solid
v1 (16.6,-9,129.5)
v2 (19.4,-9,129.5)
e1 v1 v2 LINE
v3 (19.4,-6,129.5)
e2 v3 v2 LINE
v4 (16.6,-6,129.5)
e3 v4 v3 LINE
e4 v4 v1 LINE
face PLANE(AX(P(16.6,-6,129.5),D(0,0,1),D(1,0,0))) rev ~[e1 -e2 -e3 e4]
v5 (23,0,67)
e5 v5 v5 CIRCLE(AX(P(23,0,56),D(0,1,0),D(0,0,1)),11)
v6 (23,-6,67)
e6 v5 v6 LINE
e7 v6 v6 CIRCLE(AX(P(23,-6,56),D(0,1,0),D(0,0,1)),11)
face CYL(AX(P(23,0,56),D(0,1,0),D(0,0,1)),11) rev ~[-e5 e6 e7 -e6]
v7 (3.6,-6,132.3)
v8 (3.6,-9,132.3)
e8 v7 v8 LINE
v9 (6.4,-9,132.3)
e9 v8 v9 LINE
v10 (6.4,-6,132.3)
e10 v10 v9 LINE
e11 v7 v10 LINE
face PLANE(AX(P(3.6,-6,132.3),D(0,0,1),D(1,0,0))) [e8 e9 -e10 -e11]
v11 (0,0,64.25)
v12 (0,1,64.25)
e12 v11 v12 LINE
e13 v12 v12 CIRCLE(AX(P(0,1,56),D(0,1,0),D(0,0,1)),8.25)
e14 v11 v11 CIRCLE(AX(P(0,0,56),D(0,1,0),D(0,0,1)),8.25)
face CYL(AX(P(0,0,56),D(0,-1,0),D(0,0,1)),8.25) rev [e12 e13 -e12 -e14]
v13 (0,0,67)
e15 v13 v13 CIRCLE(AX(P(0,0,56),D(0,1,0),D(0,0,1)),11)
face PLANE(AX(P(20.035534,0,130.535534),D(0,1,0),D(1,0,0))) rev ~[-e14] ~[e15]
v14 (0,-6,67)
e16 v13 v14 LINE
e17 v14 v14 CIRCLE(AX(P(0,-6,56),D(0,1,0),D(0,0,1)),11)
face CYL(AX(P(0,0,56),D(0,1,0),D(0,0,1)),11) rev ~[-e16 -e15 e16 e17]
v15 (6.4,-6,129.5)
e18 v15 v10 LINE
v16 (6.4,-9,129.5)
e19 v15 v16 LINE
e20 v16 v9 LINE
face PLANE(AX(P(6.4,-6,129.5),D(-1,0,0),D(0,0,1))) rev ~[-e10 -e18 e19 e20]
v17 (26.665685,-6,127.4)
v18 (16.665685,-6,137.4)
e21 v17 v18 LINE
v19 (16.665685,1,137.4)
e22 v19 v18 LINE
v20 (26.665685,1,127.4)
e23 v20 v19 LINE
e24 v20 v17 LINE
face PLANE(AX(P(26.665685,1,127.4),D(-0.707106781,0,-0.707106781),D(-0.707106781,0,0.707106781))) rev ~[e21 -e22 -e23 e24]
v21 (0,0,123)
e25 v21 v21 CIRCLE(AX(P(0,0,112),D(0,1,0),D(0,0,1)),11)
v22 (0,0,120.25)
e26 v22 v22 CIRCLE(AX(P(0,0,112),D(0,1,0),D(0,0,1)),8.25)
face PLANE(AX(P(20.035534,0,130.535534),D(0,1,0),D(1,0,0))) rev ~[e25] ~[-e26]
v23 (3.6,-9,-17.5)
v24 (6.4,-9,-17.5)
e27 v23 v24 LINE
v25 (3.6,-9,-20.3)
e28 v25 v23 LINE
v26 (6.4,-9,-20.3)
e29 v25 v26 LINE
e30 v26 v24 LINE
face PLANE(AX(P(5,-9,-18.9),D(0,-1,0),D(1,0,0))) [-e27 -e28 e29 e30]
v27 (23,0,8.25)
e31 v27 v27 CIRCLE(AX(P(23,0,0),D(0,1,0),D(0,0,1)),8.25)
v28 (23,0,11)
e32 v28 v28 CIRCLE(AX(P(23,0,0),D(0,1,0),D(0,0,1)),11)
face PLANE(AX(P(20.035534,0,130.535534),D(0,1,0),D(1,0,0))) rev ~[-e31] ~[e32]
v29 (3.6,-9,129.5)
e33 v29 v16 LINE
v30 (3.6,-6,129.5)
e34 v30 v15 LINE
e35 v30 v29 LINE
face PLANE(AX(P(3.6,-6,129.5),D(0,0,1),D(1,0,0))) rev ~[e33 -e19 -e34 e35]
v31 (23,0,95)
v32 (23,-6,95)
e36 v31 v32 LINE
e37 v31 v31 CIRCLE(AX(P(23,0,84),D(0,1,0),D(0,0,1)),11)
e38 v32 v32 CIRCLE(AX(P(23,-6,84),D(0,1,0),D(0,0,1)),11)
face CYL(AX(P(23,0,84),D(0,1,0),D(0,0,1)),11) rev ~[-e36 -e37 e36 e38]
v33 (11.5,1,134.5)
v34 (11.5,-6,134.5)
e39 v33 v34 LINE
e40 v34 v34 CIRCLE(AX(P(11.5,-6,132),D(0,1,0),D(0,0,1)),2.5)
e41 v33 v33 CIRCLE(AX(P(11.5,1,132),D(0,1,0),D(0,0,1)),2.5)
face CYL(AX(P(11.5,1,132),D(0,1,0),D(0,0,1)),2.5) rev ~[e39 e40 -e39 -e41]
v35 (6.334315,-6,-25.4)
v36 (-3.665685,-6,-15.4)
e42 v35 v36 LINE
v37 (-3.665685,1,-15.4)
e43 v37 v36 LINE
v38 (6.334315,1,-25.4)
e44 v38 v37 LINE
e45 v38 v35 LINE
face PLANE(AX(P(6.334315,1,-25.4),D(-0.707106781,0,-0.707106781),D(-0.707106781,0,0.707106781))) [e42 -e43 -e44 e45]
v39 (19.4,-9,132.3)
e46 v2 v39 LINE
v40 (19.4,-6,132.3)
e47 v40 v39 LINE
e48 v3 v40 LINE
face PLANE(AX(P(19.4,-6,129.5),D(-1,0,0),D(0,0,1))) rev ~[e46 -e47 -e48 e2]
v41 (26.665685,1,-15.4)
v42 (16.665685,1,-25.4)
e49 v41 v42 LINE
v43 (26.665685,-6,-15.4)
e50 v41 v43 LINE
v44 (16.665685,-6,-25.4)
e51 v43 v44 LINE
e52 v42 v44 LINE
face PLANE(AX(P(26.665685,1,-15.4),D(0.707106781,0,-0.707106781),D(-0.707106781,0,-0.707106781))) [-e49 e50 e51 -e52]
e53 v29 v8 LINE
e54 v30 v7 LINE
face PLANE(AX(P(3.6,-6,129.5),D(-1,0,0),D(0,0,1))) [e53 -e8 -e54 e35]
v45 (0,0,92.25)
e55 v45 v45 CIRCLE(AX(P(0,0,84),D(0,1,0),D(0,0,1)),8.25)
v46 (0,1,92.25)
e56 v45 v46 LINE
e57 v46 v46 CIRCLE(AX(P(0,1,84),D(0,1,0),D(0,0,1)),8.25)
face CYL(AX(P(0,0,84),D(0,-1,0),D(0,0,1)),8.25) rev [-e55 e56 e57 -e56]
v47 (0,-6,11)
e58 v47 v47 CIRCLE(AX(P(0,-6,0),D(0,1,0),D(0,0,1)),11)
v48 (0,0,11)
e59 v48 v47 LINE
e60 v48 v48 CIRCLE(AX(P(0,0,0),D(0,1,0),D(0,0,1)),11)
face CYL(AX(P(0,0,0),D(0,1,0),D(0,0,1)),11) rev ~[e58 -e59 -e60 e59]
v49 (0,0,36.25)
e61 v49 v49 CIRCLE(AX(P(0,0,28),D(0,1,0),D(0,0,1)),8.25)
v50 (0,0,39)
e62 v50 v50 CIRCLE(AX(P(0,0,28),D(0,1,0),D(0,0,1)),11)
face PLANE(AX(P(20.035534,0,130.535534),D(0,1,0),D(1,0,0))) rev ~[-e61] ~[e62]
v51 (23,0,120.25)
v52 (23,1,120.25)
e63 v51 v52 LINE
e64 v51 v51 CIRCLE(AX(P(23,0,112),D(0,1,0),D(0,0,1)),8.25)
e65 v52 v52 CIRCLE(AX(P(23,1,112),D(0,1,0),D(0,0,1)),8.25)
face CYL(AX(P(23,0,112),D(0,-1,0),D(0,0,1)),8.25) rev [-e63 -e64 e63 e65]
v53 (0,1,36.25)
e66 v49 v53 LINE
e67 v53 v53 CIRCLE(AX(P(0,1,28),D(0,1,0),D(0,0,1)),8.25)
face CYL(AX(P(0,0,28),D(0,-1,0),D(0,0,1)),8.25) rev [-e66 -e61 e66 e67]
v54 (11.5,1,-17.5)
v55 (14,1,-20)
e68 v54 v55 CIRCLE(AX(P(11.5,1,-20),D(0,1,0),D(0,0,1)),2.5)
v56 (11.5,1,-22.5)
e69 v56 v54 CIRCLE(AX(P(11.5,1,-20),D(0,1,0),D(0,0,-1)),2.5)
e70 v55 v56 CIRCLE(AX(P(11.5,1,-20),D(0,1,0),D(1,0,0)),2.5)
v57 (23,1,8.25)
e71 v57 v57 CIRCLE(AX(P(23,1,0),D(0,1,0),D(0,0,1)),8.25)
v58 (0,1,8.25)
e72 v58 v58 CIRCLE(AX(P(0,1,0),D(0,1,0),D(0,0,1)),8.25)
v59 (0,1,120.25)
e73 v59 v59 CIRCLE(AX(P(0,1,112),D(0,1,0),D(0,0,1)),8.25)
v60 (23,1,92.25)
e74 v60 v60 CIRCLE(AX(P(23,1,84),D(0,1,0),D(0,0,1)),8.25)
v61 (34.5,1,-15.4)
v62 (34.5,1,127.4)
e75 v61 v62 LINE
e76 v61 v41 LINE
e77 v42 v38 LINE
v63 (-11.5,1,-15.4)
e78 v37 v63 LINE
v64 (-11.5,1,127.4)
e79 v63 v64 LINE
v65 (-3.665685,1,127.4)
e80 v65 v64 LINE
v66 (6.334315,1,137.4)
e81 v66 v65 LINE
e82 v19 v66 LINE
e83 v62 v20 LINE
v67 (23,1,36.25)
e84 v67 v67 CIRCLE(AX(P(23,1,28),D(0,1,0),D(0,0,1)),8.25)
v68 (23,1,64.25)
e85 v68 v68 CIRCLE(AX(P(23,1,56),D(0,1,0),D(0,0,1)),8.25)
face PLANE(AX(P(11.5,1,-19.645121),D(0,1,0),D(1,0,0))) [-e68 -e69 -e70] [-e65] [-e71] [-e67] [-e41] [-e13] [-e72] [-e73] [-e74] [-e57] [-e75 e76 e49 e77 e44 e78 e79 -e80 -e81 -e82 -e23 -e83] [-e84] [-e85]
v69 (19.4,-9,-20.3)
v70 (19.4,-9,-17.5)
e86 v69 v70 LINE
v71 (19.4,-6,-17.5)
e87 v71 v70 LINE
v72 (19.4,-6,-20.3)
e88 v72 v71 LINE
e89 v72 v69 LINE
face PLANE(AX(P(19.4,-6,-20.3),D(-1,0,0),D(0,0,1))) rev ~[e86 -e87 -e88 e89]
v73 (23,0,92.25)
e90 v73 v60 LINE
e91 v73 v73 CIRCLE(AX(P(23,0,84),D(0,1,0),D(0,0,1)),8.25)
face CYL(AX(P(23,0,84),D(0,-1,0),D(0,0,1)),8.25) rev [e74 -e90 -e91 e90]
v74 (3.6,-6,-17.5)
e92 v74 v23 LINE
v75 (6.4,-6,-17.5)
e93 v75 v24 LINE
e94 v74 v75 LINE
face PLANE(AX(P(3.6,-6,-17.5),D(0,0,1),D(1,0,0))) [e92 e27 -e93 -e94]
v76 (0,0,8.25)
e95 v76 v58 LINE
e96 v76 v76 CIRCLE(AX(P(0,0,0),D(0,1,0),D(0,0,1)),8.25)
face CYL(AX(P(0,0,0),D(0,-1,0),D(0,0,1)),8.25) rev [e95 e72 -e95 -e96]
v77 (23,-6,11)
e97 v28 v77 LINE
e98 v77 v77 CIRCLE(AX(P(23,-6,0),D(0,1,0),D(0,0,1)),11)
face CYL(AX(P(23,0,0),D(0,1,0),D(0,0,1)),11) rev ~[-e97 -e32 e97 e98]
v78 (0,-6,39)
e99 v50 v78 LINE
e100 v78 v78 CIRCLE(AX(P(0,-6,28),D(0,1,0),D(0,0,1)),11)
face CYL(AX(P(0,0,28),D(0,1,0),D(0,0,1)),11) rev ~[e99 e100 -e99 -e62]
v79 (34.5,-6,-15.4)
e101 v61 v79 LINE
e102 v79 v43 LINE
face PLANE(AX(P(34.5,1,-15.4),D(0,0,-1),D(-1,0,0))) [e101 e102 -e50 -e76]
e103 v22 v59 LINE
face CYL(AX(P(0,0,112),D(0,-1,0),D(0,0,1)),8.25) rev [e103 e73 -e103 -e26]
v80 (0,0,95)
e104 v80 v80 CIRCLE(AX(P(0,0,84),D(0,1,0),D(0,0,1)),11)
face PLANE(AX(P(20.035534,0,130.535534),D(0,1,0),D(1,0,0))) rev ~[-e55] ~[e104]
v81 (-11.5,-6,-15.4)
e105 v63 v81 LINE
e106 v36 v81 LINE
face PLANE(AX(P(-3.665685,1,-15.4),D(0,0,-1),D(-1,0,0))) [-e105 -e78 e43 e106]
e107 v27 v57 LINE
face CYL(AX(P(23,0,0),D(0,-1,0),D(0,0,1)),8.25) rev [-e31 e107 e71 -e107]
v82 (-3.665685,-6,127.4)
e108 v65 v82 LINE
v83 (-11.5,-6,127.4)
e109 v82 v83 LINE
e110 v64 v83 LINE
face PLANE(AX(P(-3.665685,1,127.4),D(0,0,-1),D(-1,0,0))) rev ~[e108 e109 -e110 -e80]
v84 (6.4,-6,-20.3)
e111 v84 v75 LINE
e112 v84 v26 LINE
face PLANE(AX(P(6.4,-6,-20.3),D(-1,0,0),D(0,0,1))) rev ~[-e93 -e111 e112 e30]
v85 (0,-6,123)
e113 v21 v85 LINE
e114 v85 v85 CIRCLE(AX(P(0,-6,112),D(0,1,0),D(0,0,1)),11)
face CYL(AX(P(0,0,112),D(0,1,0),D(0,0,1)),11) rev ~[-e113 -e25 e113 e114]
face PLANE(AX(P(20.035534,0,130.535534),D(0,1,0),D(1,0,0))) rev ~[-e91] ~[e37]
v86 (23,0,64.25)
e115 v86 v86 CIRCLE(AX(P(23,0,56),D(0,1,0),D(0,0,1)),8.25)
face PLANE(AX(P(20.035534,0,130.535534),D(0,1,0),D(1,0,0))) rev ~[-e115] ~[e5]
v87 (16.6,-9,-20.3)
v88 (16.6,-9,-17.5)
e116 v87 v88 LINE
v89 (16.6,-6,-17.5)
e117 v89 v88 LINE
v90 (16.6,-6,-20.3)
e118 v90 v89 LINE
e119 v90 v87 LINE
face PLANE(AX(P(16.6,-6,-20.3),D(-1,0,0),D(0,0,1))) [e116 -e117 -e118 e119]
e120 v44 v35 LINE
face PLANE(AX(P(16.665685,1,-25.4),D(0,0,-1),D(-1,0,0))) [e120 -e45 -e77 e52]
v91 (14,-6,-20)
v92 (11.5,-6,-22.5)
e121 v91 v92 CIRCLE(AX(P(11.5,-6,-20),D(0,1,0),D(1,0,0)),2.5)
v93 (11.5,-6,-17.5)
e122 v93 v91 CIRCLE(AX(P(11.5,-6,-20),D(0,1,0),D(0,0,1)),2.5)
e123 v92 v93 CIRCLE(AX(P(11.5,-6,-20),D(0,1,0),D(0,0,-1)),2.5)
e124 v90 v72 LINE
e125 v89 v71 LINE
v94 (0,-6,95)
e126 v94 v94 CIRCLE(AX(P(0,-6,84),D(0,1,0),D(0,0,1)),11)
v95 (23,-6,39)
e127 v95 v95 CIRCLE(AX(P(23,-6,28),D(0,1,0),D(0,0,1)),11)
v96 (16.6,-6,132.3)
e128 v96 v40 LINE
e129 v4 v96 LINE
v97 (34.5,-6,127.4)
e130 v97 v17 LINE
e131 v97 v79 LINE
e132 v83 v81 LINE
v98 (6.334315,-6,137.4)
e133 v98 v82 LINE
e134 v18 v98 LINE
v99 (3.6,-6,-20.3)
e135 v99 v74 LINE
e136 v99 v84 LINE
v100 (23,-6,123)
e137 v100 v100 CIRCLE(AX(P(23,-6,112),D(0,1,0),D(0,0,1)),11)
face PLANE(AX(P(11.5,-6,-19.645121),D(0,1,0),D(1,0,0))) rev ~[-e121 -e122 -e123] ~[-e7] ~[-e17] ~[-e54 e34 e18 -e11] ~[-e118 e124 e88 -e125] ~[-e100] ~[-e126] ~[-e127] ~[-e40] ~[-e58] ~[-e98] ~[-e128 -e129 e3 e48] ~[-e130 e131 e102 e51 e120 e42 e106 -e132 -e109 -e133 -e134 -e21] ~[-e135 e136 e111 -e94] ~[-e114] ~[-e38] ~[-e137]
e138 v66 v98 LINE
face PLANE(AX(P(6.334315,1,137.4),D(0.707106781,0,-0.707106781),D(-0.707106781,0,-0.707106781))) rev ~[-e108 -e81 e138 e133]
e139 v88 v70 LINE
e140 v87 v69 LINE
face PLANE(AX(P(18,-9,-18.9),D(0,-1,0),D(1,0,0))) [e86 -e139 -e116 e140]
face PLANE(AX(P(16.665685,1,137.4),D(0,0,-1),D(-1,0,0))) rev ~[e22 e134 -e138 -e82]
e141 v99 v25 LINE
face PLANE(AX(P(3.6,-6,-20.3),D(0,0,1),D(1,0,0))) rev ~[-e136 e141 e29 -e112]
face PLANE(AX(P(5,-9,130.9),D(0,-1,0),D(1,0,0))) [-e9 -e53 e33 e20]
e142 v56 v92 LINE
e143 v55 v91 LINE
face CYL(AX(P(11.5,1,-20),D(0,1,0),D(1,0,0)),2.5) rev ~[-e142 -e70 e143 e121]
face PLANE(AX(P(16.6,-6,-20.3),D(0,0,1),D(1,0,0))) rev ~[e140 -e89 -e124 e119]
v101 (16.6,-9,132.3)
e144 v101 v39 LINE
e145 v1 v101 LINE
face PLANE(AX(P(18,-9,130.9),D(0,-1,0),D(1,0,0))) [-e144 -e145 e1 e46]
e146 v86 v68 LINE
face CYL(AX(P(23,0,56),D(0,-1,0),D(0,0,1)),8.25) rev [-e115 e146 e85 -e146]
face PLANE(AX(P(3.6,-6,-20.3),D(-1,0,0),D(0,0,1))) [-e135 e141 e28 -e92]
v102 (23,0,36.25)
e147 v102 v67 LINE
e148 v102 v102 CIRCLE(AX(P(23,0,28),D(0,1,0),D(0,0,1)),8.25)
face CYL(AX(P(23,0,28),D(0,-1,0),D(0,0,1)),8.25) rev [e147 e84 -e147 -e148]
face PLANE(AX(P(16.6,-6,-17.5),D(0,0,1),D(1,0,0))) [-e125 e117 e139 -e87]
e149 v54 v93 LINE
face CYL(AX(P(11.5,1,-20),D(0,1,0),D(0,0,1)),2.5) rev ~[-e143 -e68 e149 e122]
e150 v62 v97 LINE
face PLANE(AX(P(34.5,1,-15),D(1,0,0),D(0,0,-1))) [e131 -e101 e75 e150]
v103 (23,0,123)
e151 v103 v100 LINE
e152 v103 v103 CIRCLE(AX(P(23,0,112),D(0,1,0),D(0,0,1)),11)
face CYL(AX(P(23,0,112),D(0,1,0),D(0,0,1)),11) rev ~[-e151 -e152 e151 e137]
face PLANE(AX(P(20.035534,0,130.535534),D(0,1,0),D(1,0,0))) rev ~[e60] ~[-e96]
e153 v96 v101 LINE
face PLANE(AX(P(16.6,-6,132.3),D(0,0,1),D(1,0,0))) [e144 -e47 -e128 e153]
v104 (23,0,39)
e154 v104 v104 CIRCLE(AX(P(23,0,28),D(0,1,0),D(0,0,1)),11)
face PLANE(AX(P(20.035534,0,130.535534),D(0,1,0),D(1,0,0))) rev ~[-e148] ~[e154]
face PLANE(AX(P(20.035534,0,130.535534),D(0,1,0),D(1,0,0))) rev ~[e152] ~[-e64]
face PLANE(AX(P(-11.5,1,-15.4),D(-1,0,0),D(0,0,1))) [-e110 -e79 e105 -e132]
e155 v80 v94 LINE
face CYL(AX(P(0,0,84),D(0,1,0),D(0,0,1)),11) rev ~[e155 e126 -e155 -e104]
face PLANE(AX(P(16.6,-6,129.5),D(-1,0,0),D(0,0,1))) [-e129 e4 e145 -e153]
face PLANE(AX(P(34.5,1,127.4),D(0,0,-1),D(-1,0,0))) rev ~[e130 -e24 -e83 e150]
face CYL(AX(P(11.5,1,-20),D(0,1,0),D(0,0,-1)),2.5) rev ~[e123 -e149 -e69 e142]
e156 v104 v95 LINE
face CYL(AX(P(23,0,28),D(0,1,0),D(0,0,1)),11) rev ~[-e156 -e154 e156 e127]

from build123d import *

# Parameters (mm, degrees)
SZKIC1_R                    = 11
SZKIC1_R_2                  = 10.6
SZKIC1_R_3                  = 10.1
SZKIC1_R_4                  = 8.25
SZKIC1_W                    = 10
SZKIC1_H                    = 10
DODANIE_WYCI_GNI_CIE1_DEPTH = 1
SZKIC1_3_R                  = 11
DODANIE_WYCI_GNI_CIE2_DEPTH = 6
SZKIC2_R                    = 2.5
WYTNIJ_WYCI_GNI_CIE1_DEPTH  = 20
DODANIE_WYCI_GNI_CIE3_DEPTH = 7
SZKIC7_W                    = 2.8
SZKIC7_H                    = 2.8
DODANIE_WYCI_GNI_CIE4_DEPTH = 3


with BuildPart() as part:
    # Szkic1 → Dodanie-wyciągnięcie1 (new body)
    # profile 1 of 43: a face of its own
    with BuildSketch(Plane(origin=(0, 0, 0), x_dir=(1, 0, 0), z_dir=(0, 1, 0))):
        Polygon((6.5, 15), (-3.5, 15), (-11.5, 15), (-11.5, -127), (-3.5, -127), (6.5, -127), (16.5, -127), (26.5, -127), (34.5, -127), (34.5, 15), (26.5, 15), (16.5, 15), align=None)
        with Locations((0, -112)):
            Circle(SZKIC1_R, mode=Mode.SUBTRACT)
        with Locations((0, -84)):
            Circle(SZKIC1_R, mode=Mode.SUBTRACT)
        with Locations((0, -56)):
            Circle(SZKIC1_R, mode=Mode.SUBTRACT)
        with Locations((23, -112)):
            Circle(SZKIC1_R, mode=Mode.SUBTRACT)
        with Locations((23, -84)):
            Circle(SZKIC1_R, mode=Mode.SUBTRACT)
        with Locations((23, -56)):
            Circle(SZKIC1_R, mode=Mode.SUBTRACT)
        with Locations((0, -28)):
            Circle(SZKIC1_R, mode=Mode.SUBTRACT)
        Circle(SZKIC1_R, mode=Mode.SUBTRACT)
        with Locations((23, -28)):
            Circle(SZKIC1_R, mode=Mode.SUBTRACT)
        with Locations((23, 0)):
            Circle(SZKIC1_R, mode=Mode.SUBTRACT)
    # profile 2 of 43: a face of its own
    with BuildSketch(Plane(origin=(0, 0, 0), x_dir=(1, 0, 0), z_dir=(0, 1, 0))):
        Polygon((6.5, 15), (-3.5, 15), (-11.5, 15), (-11.5, -127), (-3.5, -127), (6.5, -127), (16.5, -127), (26.5, -127), (34.5, -127), (34.5, 15), (26.5, 15), (16.5, 15), align=None)
        with Locations((0, -112)):
            Circle(SZKIC1_R, mode=Mode.SUBTRACT)
        with Locations((0, -84)):
            Circle(SZKIC1_R, mode=Mode.SUBTRACT)
        with Locations((0, -56)):
            Circle(SZKIC1_R, mode=Mode.SUBTRACT)
        with Locations((23, -112)):
            Circle(SZKIC1_R, mode=Mode.SUBTRACT)
        with Locations((23, -84)):
            Circle(SZKIC1_R, mode=Mode.SUBTRACT)
        with Locations((23, -56)):
            Circle(SZKIC1_R, mode=Mode.SUBTRACT)
        with Locations((0, -28)):
            Circle(SZKIC1_R, mode=Mode.SUBTRACT)
        Circle(SZKIC1_R, mode=Mode.SUBTRACT)
        with Locations((23, -28)):
            Circle(SZKIC1_R, mode=Mode.SUBTRACT)
        with Locations((23, 0)):
            Circle(SZKIC1_R, mode=Mode.SUBTRACT)
    # profile 3 of 43: a face of its own
    with BuildSketch(Plane(origin=(0, 0, 0), x_dir=(1, 0, 0), z_dir=(0, 1, 0))):
        Polygon((6.5, 15), (-3.5, 15), (-11.5, 15), (-11.5, -127), (-3.5, -127), (6.5, -127), (16.5, -127), (26.5, -127), (34.5, -127), (34.5, 15), (26.5, 15), (16.5, 15), align=None)
        with Locations((0, -112)):
            Circle(SZKIC1_R, mode=Mode.SUBTRACT)
        with Locations((0, -84)):
            Circle(SZKIC1_R, mode=Mode.SUBTRACT)
        with Locations((0, -56)):
            Circle(SZKIC1_R, mode=Mode.SUBTRACT)
        with Locations((23, -112)):
            Circle(SZKIC1_R, mode=Mode.SUBTRACT)
        with Locations((23, -84)):
            Circle(SZKIC1_R, mode=Mode.SUBTRACT)
        with Locations((23, -56)):
            Circle(SZKIC1_R, mode=Mode.SUBTRACT)
        with Locations((0, -28)):
            Circle(SZKIC1_R, mode=Mode.SUBTRACT)
        Circle(SZKIC1_R, mode=Mode.SUBTRACT)
        with Locations((23, -28)):
            Circle(SZKIC1_R, mode=Mode.SUBTRACT)
        with Locations((23, 0)):
            Circle(SZKIC1_R, mode=Mode.SUBTRACT)
    # profile 4 of 43: a face of its own
    with BuildSketch(Plane(origin=(0, 0, 0), x_dir=(1, 0, 0), z_dir=(0, 1, 0))):
        with Locations((0, -28)):
            Circle(SZKIC1_R)
        with Locations((0, -28)):
            Circle(SZKIC1_R_2, mode=Mode.SUBTRACT)
    # profile 5 of 43: a face of its own
    with BuildSketch(Plane(origin=(0, 0, 0), x_dir=(1, 0, 0), z_dir=(0, 1, 0))):
        with Locations((0, -28)):
            Circle(SZKIC1_R)
        with Locations((0, -28)):
            Circle(SZKIC1_R_2, mode=Mode.SUBTRACT)
    # profile 6 of 43: a face of its own
    with BuildSketch(Plane(origin=(0, 0, 0), x_dir=(1, 0, 0), z_dir=(0, 1, 0))):
        with Locations((0, -28)):
            Circle(SZKIC1_R_2)
        with Locations((0, -28)):
            Circle(SZKIC1_R_3, mode=Mode.SUBTRACT)
    # profile 7 of 43: a face of its own
    with BuildSketch(Plane(origin=(0, 0, 0), x_dir=(1, 0, 0), z_dir=(0, 1, 0))):
        with Locations((0, -28)):
            Circle(SZKIC1_R_3)
        with Locations(Location((0, -28, 0), (0, 0, 270))):
            Circle(SZKIC1_R_4, mode=Mode.SUBTRACT)
    # profile 8 of 43: a face of its own
    with BuildSketch(Plane(origin=(0, 0, 0), x_dir=(1, 0, 0), z_dir=(0, 1, 0))):
        with Locations((23, -28)):
            Circle(SZKIC1_R)
        with Locations((23, -28)):
            Circle(SZKIC1_R_2, mode=Mode.SUBTRACT)
    # profile 9 of 43: a face of its own
    with BuildSketch(Plane(origin=(0, 0, 0), x_dir=(1, 0, 0), z_dir=(0, 1, 0))):
        with Locations((23, -28)):
            Circle(SZKIC1_R)
        with Locations((23, -28)):
            Circle(SZKIC1_R_2, mode=Mode.SUBTRACT)
    # profile 10 of 43: a face of its own
    with BuildSketch(Plane(origin=(0, 0, 0), x_dir=(1, 0, 0), z_dir=(0, 1, 0))):
        with Locations((23, -28)):
            Circle(SZKIC1_R_2)
        with Locations((23, -28)):
            Circle(SZKIC1_R_3, mode=Mode.SUBTRACT)
    # profile 11 of 43: a face of its own
    with BuildSketch(Plane(origin=(0, 0, 0), x_dir=(1, 0, 0), z_dir=(0, 1, 0))):
        with Locations((23, -28)):
            Circle(SZKIC1_R_3)
        with Locations(Location((23, -28, 0), (0, 0, 270))):
            Circle(SZKIC1_R_4, mode=Mode.SUBTRACT)
    # profile 12 of 43: a face of its own
    with BuildSketch(Plane(origin=(0, 0, 0), x_dir=(1, 0, 0), z_dir=(0, 1, 0))):
        with Locations((23, 0)):
            Circle(SZKIC1_R)
        with Locations((23, 0)):
            Circle(SZKIC1_R_2, mode=Mode.SUBTRACT)
    # profile 13 of 43: a face of its own
    with BuildSketch(Plane(origin=(0, 0, 0), x_dir=(1, 0, 0), z_dir=(0, 1, 0))):
        with Locations((23, 0)):
            Circle(SZKIC1_R)
        with Locations((23, 0)):
            Circle(SZKIC1_R_2, mode=Mode.SUBTRACT)
    # profile 14 of 43: a face of its own
    with BuildSketch(Plane(origin=(0, 0, 0), x_dir=(1, 0, 0), z_dir=(0, 1, 0))):
        with Locations((23, 0)):
            Circle(SZKIC1_R_2)
        with Locations((23, 0)):
            Circle(SZKIC1_R_3, mode=Mode.SUBTRACT)
    # profile 15 of 43: a face of its own
    with BuildSketch(Plane(origin=(0, 0, 0), x_dir=(1, 0, 0), z_dir=(0, 1, 0))):
        with Locations((23, 0)):
            Circle(SZKIC1_R_3)
        with Locations(Location((23, 0, 0), (0, 0, 270))):
            Circle(SZKIC1_R_4, mode=Mode.SUBTRACT)
    # profile 16 of 43: a face of its own
    with BuildSketch(Plane(origin=(0, 0, 0), x_dir=(1, 0, 0), z_dir=(0, 1, 0))):
        Circle(SZKIC1_R)
        Circle(SZKIC1_R_2, mode=Mode.SUBTRACT)
    # profile 17 of 43: a face of its own
    with BuildSketch(Plane(origin=(0, 0, 0), x_dir=(1, 0, 0), z_dir=(0, 1, 0))):
        Circle(SZKIC1_R)
        Circle(SZKIC1_R_2, mode=Mode.SUBTRACT)
    # profile 18 of 43: a face of its own
    with BuildSketch(Plane(origin=(0, 0, 0), x_dir=(1, 0, 0), z_dir=(0, 1, 0))):
        Circle(SZKIC1_R_2)
        Circle(SZKIC1_R_3, mode=Mode.SUBTRACT)
    # profile 19 of 43: a face of its own
    with BuildSketch(Plane(origin=(0, 0, 0), x_dir=(1, 0, 0), z_dir=(0, 1, 0))):
        Circle(SZKIC1_R_3)
        with Locations(Location((0, 0, 0), (0, 0, 270))):
            Circle(SZKIC1_R_4, mode=Mode.SUBTRACT)
    # profile 20 of 43: a face of its own
    with BuildSketch(Plane(origin=(0, 0, 0), x_dir=(1, 0, 0), z_dir=(0, 1, 0))):
        Polygon((6.5, 15), (6.5, 25), (-3.5, 15), align=None)
    # profile 21 of 43: a face of its own
    with BuildSketch(Plane(origin=(0, 0, 0), x_dir=(1, 0, 0), z_dir=(0, 1, 0))):
        with Locations((11.5, 20)):
            Rectangle(SZKIC1_W, SZKIC1_H)
    # profile 22 of 43: a face of its own
    with BuildSketch(Plane(origin=(0, 0, 0), x_dir=(1, 0, 0), z_dir=(0, 1, 0))):
        Polygon((26.5, 15), (16.5, 25), (16.5, 15), align=None)
    # profile 23 of 43: a face of its own
    with BuildSketch(Plane(origin=(0, 0, 0), x_dir=(1, 0, 0), z_dir=(0, 1, 0))):
        with Locations((0, -56)):
            Circle(SZKIC1_R)
        with Locations((0, -56)):
            Circle(SZKIC1_R_2, mode=Mode.SUBTRACT)
    # profile 24 of 43: a face of its own
    with BuildSketch(Plane(origin=(0, 0, 0), x_dir=(1, 0, 0), z_dir=(0, 1, 0))):
        with Locations((0, -56)):
            Circle(SZKIC1_R_2)
        with Locations((0, -56)):
            Circle(SZKIC1_R_3, mode=Mode.SUBTRACT)
    # profile 25 of 43: a face of its own
    with BuildSketch(Plane(origin=(0, 0, 0), x_dir=(1, 0, 0), z_dir=(0, 1, 0))):
        with Locations((0, -56)):
            Circle(SZKIC1_R_3)
        with Locations(Location((0, -56, 0), (0, 0, 270))):
            Circle(SZKIC1_R_4, mode=Mode.SUBTRACT)
    # profile 26 of 43: a face of its own
    with BuildSketch(Plane(origin=(0, 0, 0), x_dir=(1, 0, 0), z_dir=(0, 1, 0))):
        with Locations((23, -56)):
            Circle(SZKIC1_R)
        with Locations((23, -56)):
            Circle(SZKIC1_R_2, mode=Mode.SUBTRACT)
    # profile 27 of 43: a face of its own
    with BuildSketch(Plane(origin=(0, 0, 0), x_dir=(1, 0, 0), z_dir=(0, 1, 0))):
        with Locations((23, -56)):
            Circle(SZKIC1_R_2)
        with Locations((23, -56)):
            Circle(SZKIC1_R_3, mode=Mode.SUBTRACT)
    # profile 28 of 43: a face of its own
    with BuildSketch(Plane(origin=(0, 0, 0), x_dir=(1, 0, 0), z_dir=(0, 1, 0))):
        with Locations((23, -56)):
            Circle(SZKIC1_R_3)
        with Locations(Location((23, -56, 0), (0, 0, 270))):
            Circle(SZKIC1_R_4, mode=Mode.SUBTRACT)
    # profile 29 of 43: a face of its own
    with BuildSketch(Plane(origin=(0, 0, 0), x_dir=(1, 0, 0), z_dir=(0, 1, 0))):
        with Locations((23, -84)):
            Circle(SZKIC1_R)
        with Locations((23, -84)):
            Circle(SZKIC1_R_2, mode=Mode.SUBTRACT)
    # profile 30 of 43: a face of its own
    with BuildSketch(Plane(origin=(0, 0, 0), x_dir=(1, 0, 0), z_dir=(0, 1, 0))):
        with Locations((23, -84)):
            Circle(SZKIC1_R_2)
        with Locations((23, -84)):
            Circle(SZKIC1_R_3, mode=Mode.SUBTRACT)
    # profile 31 of 43: a face of its own
    with BuildSketch(Plane(origin=(0, 0, 0), x_dir=(1, 0, 0), z_dir=(0, 1, 0))):
        with Locations((23, -84)):
            Circle(SZKIC1_R_3)
        with Locations(Location((23, -84, 0), (0, 0, 270))):
            Circle(SZKIC1_R_4, mode=Mode.SUBTRACT)
    # profile 32 of 43: a face of its own
    with BuildSketch(Plane(origin=(0, 0, 0), x_dir=(1, 0, 0), z_dir=(0, 1, 0))):
        with Locations((0, -84)):
            Circle(SZKIC1_R)
        with Locations((0, -84)):
            Circle(SZKIC1_R_2, mode=Mode.SUBTRACT)
    # profile 33 of 43: a face of its own
    with BuildSketch(Plane(origin=(0, 0, 0), x_dir=(1, 0, 0), z_dir=(0, 1, 0))):
        with Locations((0, -84)):
            Circle(SZKIC1_R_2)
        with Locations((0, -84)):
            Circle(SZKIC1_R_3, mode=Mode.SUBTRACT)
    # profile 34 of 43: a face of its own
    with BuildSketch(Plane(origin=(0, 0, 0), x_dir=(1, 0, 0), z_dir=(0, 1, 0))):
        with Locations((0, -84)):
            Circle(SZKIC1_R_3)
        with Locations(Location((0, -84, 0), (0, 0, 270))):
            Circle(SZKIC1_R_4, mode=Mode.SUBTRACT)
    # profile 35 of 43: a face of its own
    with BuildSketch(Plane(origin=(0, 0, 0), x_dir=(1, 0, 0), z_dir=(0, 1, 0))):
        with Locations((23, -112)):
            Circle(SZKIC1_R)
        with Locations((23, -112)):
            Circle(SZKIC1_R_2, mode=Mode.SUBTRACT)
    # profile 36 of 43: a face of its own
    with BuildSketch(Plane(origin=(0, 0, 0), x_dir=(1, 0, 0), z_dir=(0, 1, 0))):
        with Locations((23, -112)):
            Circle(SZKIC1_R_2)
        with Locations((23, -112)):
            Circle(SZKIC1_R_3, mode=Mode.SUBTRACT)
    # profile 37 of 43: a face of its own
    with BuildSketch(Plane(origin=(0, 0, 0), x_dir=(1, 0, 0), z_dir=(0, 1, 0))):
        with Locations((23, -112)):
            Circle(SZKIC1_R_3)
        with Locations(Location((23, -112, 0), (0, 0, 270))):
            Circle(SZKIC1_R_4, mode=Mode.SUBTRACT)
    # profile 38 of 43: a face of its own
    with BuildSketch(Plane(origin=(0, 0, 0), x_dir=(1, 0, 0), z_dir=(0, 1, 0))):
        with Locations((0, -112)):
            Circle(SZKIC1_R)
        with Locations((0, -112)):
            Circle(SZKIC1_R_2, mode=Mode.SUBTRACT)
    # profile 39 of 43: a face of its own
    with BuildSketch(Plane(origin=(0, 0, 0), x_dir=(1, 0, 0), z_dir=(0, 1, 0))):
        with Locations((0, -112)):
            Circle(SZKIC1_R_2)
        with Locations((0, -112)):
            Circle(SZKIC1_R_3, mode=Mode.SUBTRACT)
    # profile 40 of 43: a face of its own
    with BuildSketch(Plane(origin=(0, 0, 0), x_dir=(1, 0, 0), z_dir=(0, 1, 0))):
        with Locations((0, -112)):
            Circle(SZKIC1_R_3)
        with Locations(Location((0, -112, 0), (0, 0, 270))):
            Circle(SZKIC1_R_4, mode=Mode.SUBTRACT)
    # profile 41 of 43: a face of its own
    with BuildSketch(Plane(origin=(0, 0, 0), x_dir=(1, 0, 0), z_dir=(0, 1, 0))):
        with Locations((11.5, -132)):
            Rectangle(SZKIC1_W, SZKIC1_H)
    # profile 42 of 43: a face of its own
    with BuildSketch(Plane(origin=(0, 0, 0), x_dir=(1, 0, 0), z_dir=(0, 1, 0))):
        Polygon((6.5, -127), (-3.5, -127), (6.5, -137), align=None)
    # profile 43 of 43: a face of its own
    with BuildSketch(Plane(origin=(0, 0, 0), x_dir=(1, 0, 0), z_dir=(0, 1, 0))):
        Polygon((16.5, -137), (26.5, -127), (16.5, -127), align=None)
    extrude(amount=DODANIE_WYCI_GNI_CIE1_DEPTH)

    # Szkic1<3> → Dodanie-wyciągnięcie2 (add)
    with BuildSketch(Plane(origin=(0, 0, 0), x_dir=(1, 0, 0), z_dir=(0, 1, 0))):
        Polygon((16.5, 25), (6.5, 25), (-3.5, 15), (-11.5, 15), (-11.5, -127), (-3.5, -127), (6.5, -137), (16.5, -137), (26.5, -127), (34.5, -127), (34.5, 15), (26.5, 15), align=None)
        with Locations(Location((23, 0, 0), (0, 0, 270))):
            Circle(SZKIC1_3_R, mode=Mode.SUBTRACT)
        with Locations(Location((23, -28, 0), (0, 0, 270))):
            Circle(SZKIC1_3_R, mode=Mode.SUBTRACT)
        with Locations(Location((0, -112, 0), (0, 0, 270))):
            Circle(SZKIC1_3_R, mode=Mode.SUBTRACT)
        with Locations(Location((0, -84, 0), (0, 0, 270))):
            Circle(SZKIC1_3_R, mode=Mode.SUBTRACT)
        with Locations(Location((0, -56, 0), (0, 0, 270))):
            Circle(SZKIC1_3_R, mode=Mode.SUBTRACT)
        with Locations(Location((23, -112, 0), (0, 0, 270))):
            Circle(SZKIC1_3_R, mode=Mode.SUBTRACT)
        with Locations(Location((23, -84, 0), (0, 0, 270))):
            Circle(SZKIC1_3_R, mode=Mode.SUBTRACT)
        with Locations(Location((23, -56, 0), (0, 0, 270))):
            Circle(SZKIC1_3_R, mode=Mode.SUBTRACT)
        with Locations(Location((0, -28, 0), (0, 0, 270))):
            Circle(SZKIC1_3_R, mode=Mode.SUBTRACT)
        with Locations(Location((0, 0, 0), (0, 0, 270))):
            Circle(SZKIC1_3_R, mode=Mode.SUBTRACT)
    extrude(amount=-DODANIE_WYCI_GNI_CIE2_DEPTH)

    # Szkic2 → Wytnij-wyciągnięcie1 (cut)
    with BuildSketch(Plane(origin=(0, 1, 0), x_dir=(1, 0, 0), z_dir=(0, 1, 0))):
        with BuildLine():
            ThreePointArc((11.5, 22.5), (9, 20), (11.5, 17.5))
            Line((11.5, 17.5), (11.5, 22.5))
        make_face()
        with BuildLine():
            Line((11.5, 22.5), (11.5, 17.5))
            ThreePointArc((11.5, 17.5), (13.267766953, 18.232233047), (14, 20))
            ThreePointArc((14, 20), (13.267766953, 21.767766953), (11.5, 22.5))
        make_face()
        with Locations(Location((11.5, -132, 0), (0, 0, 270))):
            Circle(SZKIC2_R)
    extrude(amount=-WYTNIJ_WYCI_GNI_CIE1_DEPTH, mode=Mode.SUBTRACT)

    # Szkic6 → Dodanie-wyciągnięcie3 (add)
    with BuildSketch(Plane(origin=(0, 1, 0), x_dir=(1, 0, 0), z_dir=(0, 1, 0))):
        Polygon((-3.5, 15), (6.5, 25), (16.5, 25), (26.5, 15), (34.5, 15), (34.5, 15.4), (26.665685425, 15.4), (16.665685425, 25.4), (6.334314575, 25.4), (-3.665685425, 15.4), (-11.5, 15.4), (-11.5, 15), align=None)
        Polygon((-11.5, -127.4), (-11.5, -127), (-3.5, -127), (6.5, -137), (16.5, -137), (26.5, -127), (34.5, -127), (34.5, -127.4), (26.665685425, -127.4), (16.665685425, -137.4), (6.334314575, -137.4), (-3.665685425, -127.4), align=None)
    extrude(amount=-DODANIE_WYCI_GNI_CIE3_DEPTH)

    # Szkic7 → Dodanie-wyciągnięcie4 (add)
    with BuildSketch(Plane.XZ.offset(6)):
        with Locations((18, -18.9)):
            Rectangle(SZKIC7_W, SZKIC7_H)
        with Locations((5, -18.9)):
            Rectangle(SZKIC7_W, SZKIC7_H)
        with Locations((18, 130.9)):
            Rectangle(SZKIC7_W, SZKIC7_H)
        with Locations((5, 130.9)):
            Rectangle(SZKIC7_W, SZKIC7_H)
    extrude(amount=DODANIE_WYCI_GNI_CIE4_DEPTH)


solid = part.part
